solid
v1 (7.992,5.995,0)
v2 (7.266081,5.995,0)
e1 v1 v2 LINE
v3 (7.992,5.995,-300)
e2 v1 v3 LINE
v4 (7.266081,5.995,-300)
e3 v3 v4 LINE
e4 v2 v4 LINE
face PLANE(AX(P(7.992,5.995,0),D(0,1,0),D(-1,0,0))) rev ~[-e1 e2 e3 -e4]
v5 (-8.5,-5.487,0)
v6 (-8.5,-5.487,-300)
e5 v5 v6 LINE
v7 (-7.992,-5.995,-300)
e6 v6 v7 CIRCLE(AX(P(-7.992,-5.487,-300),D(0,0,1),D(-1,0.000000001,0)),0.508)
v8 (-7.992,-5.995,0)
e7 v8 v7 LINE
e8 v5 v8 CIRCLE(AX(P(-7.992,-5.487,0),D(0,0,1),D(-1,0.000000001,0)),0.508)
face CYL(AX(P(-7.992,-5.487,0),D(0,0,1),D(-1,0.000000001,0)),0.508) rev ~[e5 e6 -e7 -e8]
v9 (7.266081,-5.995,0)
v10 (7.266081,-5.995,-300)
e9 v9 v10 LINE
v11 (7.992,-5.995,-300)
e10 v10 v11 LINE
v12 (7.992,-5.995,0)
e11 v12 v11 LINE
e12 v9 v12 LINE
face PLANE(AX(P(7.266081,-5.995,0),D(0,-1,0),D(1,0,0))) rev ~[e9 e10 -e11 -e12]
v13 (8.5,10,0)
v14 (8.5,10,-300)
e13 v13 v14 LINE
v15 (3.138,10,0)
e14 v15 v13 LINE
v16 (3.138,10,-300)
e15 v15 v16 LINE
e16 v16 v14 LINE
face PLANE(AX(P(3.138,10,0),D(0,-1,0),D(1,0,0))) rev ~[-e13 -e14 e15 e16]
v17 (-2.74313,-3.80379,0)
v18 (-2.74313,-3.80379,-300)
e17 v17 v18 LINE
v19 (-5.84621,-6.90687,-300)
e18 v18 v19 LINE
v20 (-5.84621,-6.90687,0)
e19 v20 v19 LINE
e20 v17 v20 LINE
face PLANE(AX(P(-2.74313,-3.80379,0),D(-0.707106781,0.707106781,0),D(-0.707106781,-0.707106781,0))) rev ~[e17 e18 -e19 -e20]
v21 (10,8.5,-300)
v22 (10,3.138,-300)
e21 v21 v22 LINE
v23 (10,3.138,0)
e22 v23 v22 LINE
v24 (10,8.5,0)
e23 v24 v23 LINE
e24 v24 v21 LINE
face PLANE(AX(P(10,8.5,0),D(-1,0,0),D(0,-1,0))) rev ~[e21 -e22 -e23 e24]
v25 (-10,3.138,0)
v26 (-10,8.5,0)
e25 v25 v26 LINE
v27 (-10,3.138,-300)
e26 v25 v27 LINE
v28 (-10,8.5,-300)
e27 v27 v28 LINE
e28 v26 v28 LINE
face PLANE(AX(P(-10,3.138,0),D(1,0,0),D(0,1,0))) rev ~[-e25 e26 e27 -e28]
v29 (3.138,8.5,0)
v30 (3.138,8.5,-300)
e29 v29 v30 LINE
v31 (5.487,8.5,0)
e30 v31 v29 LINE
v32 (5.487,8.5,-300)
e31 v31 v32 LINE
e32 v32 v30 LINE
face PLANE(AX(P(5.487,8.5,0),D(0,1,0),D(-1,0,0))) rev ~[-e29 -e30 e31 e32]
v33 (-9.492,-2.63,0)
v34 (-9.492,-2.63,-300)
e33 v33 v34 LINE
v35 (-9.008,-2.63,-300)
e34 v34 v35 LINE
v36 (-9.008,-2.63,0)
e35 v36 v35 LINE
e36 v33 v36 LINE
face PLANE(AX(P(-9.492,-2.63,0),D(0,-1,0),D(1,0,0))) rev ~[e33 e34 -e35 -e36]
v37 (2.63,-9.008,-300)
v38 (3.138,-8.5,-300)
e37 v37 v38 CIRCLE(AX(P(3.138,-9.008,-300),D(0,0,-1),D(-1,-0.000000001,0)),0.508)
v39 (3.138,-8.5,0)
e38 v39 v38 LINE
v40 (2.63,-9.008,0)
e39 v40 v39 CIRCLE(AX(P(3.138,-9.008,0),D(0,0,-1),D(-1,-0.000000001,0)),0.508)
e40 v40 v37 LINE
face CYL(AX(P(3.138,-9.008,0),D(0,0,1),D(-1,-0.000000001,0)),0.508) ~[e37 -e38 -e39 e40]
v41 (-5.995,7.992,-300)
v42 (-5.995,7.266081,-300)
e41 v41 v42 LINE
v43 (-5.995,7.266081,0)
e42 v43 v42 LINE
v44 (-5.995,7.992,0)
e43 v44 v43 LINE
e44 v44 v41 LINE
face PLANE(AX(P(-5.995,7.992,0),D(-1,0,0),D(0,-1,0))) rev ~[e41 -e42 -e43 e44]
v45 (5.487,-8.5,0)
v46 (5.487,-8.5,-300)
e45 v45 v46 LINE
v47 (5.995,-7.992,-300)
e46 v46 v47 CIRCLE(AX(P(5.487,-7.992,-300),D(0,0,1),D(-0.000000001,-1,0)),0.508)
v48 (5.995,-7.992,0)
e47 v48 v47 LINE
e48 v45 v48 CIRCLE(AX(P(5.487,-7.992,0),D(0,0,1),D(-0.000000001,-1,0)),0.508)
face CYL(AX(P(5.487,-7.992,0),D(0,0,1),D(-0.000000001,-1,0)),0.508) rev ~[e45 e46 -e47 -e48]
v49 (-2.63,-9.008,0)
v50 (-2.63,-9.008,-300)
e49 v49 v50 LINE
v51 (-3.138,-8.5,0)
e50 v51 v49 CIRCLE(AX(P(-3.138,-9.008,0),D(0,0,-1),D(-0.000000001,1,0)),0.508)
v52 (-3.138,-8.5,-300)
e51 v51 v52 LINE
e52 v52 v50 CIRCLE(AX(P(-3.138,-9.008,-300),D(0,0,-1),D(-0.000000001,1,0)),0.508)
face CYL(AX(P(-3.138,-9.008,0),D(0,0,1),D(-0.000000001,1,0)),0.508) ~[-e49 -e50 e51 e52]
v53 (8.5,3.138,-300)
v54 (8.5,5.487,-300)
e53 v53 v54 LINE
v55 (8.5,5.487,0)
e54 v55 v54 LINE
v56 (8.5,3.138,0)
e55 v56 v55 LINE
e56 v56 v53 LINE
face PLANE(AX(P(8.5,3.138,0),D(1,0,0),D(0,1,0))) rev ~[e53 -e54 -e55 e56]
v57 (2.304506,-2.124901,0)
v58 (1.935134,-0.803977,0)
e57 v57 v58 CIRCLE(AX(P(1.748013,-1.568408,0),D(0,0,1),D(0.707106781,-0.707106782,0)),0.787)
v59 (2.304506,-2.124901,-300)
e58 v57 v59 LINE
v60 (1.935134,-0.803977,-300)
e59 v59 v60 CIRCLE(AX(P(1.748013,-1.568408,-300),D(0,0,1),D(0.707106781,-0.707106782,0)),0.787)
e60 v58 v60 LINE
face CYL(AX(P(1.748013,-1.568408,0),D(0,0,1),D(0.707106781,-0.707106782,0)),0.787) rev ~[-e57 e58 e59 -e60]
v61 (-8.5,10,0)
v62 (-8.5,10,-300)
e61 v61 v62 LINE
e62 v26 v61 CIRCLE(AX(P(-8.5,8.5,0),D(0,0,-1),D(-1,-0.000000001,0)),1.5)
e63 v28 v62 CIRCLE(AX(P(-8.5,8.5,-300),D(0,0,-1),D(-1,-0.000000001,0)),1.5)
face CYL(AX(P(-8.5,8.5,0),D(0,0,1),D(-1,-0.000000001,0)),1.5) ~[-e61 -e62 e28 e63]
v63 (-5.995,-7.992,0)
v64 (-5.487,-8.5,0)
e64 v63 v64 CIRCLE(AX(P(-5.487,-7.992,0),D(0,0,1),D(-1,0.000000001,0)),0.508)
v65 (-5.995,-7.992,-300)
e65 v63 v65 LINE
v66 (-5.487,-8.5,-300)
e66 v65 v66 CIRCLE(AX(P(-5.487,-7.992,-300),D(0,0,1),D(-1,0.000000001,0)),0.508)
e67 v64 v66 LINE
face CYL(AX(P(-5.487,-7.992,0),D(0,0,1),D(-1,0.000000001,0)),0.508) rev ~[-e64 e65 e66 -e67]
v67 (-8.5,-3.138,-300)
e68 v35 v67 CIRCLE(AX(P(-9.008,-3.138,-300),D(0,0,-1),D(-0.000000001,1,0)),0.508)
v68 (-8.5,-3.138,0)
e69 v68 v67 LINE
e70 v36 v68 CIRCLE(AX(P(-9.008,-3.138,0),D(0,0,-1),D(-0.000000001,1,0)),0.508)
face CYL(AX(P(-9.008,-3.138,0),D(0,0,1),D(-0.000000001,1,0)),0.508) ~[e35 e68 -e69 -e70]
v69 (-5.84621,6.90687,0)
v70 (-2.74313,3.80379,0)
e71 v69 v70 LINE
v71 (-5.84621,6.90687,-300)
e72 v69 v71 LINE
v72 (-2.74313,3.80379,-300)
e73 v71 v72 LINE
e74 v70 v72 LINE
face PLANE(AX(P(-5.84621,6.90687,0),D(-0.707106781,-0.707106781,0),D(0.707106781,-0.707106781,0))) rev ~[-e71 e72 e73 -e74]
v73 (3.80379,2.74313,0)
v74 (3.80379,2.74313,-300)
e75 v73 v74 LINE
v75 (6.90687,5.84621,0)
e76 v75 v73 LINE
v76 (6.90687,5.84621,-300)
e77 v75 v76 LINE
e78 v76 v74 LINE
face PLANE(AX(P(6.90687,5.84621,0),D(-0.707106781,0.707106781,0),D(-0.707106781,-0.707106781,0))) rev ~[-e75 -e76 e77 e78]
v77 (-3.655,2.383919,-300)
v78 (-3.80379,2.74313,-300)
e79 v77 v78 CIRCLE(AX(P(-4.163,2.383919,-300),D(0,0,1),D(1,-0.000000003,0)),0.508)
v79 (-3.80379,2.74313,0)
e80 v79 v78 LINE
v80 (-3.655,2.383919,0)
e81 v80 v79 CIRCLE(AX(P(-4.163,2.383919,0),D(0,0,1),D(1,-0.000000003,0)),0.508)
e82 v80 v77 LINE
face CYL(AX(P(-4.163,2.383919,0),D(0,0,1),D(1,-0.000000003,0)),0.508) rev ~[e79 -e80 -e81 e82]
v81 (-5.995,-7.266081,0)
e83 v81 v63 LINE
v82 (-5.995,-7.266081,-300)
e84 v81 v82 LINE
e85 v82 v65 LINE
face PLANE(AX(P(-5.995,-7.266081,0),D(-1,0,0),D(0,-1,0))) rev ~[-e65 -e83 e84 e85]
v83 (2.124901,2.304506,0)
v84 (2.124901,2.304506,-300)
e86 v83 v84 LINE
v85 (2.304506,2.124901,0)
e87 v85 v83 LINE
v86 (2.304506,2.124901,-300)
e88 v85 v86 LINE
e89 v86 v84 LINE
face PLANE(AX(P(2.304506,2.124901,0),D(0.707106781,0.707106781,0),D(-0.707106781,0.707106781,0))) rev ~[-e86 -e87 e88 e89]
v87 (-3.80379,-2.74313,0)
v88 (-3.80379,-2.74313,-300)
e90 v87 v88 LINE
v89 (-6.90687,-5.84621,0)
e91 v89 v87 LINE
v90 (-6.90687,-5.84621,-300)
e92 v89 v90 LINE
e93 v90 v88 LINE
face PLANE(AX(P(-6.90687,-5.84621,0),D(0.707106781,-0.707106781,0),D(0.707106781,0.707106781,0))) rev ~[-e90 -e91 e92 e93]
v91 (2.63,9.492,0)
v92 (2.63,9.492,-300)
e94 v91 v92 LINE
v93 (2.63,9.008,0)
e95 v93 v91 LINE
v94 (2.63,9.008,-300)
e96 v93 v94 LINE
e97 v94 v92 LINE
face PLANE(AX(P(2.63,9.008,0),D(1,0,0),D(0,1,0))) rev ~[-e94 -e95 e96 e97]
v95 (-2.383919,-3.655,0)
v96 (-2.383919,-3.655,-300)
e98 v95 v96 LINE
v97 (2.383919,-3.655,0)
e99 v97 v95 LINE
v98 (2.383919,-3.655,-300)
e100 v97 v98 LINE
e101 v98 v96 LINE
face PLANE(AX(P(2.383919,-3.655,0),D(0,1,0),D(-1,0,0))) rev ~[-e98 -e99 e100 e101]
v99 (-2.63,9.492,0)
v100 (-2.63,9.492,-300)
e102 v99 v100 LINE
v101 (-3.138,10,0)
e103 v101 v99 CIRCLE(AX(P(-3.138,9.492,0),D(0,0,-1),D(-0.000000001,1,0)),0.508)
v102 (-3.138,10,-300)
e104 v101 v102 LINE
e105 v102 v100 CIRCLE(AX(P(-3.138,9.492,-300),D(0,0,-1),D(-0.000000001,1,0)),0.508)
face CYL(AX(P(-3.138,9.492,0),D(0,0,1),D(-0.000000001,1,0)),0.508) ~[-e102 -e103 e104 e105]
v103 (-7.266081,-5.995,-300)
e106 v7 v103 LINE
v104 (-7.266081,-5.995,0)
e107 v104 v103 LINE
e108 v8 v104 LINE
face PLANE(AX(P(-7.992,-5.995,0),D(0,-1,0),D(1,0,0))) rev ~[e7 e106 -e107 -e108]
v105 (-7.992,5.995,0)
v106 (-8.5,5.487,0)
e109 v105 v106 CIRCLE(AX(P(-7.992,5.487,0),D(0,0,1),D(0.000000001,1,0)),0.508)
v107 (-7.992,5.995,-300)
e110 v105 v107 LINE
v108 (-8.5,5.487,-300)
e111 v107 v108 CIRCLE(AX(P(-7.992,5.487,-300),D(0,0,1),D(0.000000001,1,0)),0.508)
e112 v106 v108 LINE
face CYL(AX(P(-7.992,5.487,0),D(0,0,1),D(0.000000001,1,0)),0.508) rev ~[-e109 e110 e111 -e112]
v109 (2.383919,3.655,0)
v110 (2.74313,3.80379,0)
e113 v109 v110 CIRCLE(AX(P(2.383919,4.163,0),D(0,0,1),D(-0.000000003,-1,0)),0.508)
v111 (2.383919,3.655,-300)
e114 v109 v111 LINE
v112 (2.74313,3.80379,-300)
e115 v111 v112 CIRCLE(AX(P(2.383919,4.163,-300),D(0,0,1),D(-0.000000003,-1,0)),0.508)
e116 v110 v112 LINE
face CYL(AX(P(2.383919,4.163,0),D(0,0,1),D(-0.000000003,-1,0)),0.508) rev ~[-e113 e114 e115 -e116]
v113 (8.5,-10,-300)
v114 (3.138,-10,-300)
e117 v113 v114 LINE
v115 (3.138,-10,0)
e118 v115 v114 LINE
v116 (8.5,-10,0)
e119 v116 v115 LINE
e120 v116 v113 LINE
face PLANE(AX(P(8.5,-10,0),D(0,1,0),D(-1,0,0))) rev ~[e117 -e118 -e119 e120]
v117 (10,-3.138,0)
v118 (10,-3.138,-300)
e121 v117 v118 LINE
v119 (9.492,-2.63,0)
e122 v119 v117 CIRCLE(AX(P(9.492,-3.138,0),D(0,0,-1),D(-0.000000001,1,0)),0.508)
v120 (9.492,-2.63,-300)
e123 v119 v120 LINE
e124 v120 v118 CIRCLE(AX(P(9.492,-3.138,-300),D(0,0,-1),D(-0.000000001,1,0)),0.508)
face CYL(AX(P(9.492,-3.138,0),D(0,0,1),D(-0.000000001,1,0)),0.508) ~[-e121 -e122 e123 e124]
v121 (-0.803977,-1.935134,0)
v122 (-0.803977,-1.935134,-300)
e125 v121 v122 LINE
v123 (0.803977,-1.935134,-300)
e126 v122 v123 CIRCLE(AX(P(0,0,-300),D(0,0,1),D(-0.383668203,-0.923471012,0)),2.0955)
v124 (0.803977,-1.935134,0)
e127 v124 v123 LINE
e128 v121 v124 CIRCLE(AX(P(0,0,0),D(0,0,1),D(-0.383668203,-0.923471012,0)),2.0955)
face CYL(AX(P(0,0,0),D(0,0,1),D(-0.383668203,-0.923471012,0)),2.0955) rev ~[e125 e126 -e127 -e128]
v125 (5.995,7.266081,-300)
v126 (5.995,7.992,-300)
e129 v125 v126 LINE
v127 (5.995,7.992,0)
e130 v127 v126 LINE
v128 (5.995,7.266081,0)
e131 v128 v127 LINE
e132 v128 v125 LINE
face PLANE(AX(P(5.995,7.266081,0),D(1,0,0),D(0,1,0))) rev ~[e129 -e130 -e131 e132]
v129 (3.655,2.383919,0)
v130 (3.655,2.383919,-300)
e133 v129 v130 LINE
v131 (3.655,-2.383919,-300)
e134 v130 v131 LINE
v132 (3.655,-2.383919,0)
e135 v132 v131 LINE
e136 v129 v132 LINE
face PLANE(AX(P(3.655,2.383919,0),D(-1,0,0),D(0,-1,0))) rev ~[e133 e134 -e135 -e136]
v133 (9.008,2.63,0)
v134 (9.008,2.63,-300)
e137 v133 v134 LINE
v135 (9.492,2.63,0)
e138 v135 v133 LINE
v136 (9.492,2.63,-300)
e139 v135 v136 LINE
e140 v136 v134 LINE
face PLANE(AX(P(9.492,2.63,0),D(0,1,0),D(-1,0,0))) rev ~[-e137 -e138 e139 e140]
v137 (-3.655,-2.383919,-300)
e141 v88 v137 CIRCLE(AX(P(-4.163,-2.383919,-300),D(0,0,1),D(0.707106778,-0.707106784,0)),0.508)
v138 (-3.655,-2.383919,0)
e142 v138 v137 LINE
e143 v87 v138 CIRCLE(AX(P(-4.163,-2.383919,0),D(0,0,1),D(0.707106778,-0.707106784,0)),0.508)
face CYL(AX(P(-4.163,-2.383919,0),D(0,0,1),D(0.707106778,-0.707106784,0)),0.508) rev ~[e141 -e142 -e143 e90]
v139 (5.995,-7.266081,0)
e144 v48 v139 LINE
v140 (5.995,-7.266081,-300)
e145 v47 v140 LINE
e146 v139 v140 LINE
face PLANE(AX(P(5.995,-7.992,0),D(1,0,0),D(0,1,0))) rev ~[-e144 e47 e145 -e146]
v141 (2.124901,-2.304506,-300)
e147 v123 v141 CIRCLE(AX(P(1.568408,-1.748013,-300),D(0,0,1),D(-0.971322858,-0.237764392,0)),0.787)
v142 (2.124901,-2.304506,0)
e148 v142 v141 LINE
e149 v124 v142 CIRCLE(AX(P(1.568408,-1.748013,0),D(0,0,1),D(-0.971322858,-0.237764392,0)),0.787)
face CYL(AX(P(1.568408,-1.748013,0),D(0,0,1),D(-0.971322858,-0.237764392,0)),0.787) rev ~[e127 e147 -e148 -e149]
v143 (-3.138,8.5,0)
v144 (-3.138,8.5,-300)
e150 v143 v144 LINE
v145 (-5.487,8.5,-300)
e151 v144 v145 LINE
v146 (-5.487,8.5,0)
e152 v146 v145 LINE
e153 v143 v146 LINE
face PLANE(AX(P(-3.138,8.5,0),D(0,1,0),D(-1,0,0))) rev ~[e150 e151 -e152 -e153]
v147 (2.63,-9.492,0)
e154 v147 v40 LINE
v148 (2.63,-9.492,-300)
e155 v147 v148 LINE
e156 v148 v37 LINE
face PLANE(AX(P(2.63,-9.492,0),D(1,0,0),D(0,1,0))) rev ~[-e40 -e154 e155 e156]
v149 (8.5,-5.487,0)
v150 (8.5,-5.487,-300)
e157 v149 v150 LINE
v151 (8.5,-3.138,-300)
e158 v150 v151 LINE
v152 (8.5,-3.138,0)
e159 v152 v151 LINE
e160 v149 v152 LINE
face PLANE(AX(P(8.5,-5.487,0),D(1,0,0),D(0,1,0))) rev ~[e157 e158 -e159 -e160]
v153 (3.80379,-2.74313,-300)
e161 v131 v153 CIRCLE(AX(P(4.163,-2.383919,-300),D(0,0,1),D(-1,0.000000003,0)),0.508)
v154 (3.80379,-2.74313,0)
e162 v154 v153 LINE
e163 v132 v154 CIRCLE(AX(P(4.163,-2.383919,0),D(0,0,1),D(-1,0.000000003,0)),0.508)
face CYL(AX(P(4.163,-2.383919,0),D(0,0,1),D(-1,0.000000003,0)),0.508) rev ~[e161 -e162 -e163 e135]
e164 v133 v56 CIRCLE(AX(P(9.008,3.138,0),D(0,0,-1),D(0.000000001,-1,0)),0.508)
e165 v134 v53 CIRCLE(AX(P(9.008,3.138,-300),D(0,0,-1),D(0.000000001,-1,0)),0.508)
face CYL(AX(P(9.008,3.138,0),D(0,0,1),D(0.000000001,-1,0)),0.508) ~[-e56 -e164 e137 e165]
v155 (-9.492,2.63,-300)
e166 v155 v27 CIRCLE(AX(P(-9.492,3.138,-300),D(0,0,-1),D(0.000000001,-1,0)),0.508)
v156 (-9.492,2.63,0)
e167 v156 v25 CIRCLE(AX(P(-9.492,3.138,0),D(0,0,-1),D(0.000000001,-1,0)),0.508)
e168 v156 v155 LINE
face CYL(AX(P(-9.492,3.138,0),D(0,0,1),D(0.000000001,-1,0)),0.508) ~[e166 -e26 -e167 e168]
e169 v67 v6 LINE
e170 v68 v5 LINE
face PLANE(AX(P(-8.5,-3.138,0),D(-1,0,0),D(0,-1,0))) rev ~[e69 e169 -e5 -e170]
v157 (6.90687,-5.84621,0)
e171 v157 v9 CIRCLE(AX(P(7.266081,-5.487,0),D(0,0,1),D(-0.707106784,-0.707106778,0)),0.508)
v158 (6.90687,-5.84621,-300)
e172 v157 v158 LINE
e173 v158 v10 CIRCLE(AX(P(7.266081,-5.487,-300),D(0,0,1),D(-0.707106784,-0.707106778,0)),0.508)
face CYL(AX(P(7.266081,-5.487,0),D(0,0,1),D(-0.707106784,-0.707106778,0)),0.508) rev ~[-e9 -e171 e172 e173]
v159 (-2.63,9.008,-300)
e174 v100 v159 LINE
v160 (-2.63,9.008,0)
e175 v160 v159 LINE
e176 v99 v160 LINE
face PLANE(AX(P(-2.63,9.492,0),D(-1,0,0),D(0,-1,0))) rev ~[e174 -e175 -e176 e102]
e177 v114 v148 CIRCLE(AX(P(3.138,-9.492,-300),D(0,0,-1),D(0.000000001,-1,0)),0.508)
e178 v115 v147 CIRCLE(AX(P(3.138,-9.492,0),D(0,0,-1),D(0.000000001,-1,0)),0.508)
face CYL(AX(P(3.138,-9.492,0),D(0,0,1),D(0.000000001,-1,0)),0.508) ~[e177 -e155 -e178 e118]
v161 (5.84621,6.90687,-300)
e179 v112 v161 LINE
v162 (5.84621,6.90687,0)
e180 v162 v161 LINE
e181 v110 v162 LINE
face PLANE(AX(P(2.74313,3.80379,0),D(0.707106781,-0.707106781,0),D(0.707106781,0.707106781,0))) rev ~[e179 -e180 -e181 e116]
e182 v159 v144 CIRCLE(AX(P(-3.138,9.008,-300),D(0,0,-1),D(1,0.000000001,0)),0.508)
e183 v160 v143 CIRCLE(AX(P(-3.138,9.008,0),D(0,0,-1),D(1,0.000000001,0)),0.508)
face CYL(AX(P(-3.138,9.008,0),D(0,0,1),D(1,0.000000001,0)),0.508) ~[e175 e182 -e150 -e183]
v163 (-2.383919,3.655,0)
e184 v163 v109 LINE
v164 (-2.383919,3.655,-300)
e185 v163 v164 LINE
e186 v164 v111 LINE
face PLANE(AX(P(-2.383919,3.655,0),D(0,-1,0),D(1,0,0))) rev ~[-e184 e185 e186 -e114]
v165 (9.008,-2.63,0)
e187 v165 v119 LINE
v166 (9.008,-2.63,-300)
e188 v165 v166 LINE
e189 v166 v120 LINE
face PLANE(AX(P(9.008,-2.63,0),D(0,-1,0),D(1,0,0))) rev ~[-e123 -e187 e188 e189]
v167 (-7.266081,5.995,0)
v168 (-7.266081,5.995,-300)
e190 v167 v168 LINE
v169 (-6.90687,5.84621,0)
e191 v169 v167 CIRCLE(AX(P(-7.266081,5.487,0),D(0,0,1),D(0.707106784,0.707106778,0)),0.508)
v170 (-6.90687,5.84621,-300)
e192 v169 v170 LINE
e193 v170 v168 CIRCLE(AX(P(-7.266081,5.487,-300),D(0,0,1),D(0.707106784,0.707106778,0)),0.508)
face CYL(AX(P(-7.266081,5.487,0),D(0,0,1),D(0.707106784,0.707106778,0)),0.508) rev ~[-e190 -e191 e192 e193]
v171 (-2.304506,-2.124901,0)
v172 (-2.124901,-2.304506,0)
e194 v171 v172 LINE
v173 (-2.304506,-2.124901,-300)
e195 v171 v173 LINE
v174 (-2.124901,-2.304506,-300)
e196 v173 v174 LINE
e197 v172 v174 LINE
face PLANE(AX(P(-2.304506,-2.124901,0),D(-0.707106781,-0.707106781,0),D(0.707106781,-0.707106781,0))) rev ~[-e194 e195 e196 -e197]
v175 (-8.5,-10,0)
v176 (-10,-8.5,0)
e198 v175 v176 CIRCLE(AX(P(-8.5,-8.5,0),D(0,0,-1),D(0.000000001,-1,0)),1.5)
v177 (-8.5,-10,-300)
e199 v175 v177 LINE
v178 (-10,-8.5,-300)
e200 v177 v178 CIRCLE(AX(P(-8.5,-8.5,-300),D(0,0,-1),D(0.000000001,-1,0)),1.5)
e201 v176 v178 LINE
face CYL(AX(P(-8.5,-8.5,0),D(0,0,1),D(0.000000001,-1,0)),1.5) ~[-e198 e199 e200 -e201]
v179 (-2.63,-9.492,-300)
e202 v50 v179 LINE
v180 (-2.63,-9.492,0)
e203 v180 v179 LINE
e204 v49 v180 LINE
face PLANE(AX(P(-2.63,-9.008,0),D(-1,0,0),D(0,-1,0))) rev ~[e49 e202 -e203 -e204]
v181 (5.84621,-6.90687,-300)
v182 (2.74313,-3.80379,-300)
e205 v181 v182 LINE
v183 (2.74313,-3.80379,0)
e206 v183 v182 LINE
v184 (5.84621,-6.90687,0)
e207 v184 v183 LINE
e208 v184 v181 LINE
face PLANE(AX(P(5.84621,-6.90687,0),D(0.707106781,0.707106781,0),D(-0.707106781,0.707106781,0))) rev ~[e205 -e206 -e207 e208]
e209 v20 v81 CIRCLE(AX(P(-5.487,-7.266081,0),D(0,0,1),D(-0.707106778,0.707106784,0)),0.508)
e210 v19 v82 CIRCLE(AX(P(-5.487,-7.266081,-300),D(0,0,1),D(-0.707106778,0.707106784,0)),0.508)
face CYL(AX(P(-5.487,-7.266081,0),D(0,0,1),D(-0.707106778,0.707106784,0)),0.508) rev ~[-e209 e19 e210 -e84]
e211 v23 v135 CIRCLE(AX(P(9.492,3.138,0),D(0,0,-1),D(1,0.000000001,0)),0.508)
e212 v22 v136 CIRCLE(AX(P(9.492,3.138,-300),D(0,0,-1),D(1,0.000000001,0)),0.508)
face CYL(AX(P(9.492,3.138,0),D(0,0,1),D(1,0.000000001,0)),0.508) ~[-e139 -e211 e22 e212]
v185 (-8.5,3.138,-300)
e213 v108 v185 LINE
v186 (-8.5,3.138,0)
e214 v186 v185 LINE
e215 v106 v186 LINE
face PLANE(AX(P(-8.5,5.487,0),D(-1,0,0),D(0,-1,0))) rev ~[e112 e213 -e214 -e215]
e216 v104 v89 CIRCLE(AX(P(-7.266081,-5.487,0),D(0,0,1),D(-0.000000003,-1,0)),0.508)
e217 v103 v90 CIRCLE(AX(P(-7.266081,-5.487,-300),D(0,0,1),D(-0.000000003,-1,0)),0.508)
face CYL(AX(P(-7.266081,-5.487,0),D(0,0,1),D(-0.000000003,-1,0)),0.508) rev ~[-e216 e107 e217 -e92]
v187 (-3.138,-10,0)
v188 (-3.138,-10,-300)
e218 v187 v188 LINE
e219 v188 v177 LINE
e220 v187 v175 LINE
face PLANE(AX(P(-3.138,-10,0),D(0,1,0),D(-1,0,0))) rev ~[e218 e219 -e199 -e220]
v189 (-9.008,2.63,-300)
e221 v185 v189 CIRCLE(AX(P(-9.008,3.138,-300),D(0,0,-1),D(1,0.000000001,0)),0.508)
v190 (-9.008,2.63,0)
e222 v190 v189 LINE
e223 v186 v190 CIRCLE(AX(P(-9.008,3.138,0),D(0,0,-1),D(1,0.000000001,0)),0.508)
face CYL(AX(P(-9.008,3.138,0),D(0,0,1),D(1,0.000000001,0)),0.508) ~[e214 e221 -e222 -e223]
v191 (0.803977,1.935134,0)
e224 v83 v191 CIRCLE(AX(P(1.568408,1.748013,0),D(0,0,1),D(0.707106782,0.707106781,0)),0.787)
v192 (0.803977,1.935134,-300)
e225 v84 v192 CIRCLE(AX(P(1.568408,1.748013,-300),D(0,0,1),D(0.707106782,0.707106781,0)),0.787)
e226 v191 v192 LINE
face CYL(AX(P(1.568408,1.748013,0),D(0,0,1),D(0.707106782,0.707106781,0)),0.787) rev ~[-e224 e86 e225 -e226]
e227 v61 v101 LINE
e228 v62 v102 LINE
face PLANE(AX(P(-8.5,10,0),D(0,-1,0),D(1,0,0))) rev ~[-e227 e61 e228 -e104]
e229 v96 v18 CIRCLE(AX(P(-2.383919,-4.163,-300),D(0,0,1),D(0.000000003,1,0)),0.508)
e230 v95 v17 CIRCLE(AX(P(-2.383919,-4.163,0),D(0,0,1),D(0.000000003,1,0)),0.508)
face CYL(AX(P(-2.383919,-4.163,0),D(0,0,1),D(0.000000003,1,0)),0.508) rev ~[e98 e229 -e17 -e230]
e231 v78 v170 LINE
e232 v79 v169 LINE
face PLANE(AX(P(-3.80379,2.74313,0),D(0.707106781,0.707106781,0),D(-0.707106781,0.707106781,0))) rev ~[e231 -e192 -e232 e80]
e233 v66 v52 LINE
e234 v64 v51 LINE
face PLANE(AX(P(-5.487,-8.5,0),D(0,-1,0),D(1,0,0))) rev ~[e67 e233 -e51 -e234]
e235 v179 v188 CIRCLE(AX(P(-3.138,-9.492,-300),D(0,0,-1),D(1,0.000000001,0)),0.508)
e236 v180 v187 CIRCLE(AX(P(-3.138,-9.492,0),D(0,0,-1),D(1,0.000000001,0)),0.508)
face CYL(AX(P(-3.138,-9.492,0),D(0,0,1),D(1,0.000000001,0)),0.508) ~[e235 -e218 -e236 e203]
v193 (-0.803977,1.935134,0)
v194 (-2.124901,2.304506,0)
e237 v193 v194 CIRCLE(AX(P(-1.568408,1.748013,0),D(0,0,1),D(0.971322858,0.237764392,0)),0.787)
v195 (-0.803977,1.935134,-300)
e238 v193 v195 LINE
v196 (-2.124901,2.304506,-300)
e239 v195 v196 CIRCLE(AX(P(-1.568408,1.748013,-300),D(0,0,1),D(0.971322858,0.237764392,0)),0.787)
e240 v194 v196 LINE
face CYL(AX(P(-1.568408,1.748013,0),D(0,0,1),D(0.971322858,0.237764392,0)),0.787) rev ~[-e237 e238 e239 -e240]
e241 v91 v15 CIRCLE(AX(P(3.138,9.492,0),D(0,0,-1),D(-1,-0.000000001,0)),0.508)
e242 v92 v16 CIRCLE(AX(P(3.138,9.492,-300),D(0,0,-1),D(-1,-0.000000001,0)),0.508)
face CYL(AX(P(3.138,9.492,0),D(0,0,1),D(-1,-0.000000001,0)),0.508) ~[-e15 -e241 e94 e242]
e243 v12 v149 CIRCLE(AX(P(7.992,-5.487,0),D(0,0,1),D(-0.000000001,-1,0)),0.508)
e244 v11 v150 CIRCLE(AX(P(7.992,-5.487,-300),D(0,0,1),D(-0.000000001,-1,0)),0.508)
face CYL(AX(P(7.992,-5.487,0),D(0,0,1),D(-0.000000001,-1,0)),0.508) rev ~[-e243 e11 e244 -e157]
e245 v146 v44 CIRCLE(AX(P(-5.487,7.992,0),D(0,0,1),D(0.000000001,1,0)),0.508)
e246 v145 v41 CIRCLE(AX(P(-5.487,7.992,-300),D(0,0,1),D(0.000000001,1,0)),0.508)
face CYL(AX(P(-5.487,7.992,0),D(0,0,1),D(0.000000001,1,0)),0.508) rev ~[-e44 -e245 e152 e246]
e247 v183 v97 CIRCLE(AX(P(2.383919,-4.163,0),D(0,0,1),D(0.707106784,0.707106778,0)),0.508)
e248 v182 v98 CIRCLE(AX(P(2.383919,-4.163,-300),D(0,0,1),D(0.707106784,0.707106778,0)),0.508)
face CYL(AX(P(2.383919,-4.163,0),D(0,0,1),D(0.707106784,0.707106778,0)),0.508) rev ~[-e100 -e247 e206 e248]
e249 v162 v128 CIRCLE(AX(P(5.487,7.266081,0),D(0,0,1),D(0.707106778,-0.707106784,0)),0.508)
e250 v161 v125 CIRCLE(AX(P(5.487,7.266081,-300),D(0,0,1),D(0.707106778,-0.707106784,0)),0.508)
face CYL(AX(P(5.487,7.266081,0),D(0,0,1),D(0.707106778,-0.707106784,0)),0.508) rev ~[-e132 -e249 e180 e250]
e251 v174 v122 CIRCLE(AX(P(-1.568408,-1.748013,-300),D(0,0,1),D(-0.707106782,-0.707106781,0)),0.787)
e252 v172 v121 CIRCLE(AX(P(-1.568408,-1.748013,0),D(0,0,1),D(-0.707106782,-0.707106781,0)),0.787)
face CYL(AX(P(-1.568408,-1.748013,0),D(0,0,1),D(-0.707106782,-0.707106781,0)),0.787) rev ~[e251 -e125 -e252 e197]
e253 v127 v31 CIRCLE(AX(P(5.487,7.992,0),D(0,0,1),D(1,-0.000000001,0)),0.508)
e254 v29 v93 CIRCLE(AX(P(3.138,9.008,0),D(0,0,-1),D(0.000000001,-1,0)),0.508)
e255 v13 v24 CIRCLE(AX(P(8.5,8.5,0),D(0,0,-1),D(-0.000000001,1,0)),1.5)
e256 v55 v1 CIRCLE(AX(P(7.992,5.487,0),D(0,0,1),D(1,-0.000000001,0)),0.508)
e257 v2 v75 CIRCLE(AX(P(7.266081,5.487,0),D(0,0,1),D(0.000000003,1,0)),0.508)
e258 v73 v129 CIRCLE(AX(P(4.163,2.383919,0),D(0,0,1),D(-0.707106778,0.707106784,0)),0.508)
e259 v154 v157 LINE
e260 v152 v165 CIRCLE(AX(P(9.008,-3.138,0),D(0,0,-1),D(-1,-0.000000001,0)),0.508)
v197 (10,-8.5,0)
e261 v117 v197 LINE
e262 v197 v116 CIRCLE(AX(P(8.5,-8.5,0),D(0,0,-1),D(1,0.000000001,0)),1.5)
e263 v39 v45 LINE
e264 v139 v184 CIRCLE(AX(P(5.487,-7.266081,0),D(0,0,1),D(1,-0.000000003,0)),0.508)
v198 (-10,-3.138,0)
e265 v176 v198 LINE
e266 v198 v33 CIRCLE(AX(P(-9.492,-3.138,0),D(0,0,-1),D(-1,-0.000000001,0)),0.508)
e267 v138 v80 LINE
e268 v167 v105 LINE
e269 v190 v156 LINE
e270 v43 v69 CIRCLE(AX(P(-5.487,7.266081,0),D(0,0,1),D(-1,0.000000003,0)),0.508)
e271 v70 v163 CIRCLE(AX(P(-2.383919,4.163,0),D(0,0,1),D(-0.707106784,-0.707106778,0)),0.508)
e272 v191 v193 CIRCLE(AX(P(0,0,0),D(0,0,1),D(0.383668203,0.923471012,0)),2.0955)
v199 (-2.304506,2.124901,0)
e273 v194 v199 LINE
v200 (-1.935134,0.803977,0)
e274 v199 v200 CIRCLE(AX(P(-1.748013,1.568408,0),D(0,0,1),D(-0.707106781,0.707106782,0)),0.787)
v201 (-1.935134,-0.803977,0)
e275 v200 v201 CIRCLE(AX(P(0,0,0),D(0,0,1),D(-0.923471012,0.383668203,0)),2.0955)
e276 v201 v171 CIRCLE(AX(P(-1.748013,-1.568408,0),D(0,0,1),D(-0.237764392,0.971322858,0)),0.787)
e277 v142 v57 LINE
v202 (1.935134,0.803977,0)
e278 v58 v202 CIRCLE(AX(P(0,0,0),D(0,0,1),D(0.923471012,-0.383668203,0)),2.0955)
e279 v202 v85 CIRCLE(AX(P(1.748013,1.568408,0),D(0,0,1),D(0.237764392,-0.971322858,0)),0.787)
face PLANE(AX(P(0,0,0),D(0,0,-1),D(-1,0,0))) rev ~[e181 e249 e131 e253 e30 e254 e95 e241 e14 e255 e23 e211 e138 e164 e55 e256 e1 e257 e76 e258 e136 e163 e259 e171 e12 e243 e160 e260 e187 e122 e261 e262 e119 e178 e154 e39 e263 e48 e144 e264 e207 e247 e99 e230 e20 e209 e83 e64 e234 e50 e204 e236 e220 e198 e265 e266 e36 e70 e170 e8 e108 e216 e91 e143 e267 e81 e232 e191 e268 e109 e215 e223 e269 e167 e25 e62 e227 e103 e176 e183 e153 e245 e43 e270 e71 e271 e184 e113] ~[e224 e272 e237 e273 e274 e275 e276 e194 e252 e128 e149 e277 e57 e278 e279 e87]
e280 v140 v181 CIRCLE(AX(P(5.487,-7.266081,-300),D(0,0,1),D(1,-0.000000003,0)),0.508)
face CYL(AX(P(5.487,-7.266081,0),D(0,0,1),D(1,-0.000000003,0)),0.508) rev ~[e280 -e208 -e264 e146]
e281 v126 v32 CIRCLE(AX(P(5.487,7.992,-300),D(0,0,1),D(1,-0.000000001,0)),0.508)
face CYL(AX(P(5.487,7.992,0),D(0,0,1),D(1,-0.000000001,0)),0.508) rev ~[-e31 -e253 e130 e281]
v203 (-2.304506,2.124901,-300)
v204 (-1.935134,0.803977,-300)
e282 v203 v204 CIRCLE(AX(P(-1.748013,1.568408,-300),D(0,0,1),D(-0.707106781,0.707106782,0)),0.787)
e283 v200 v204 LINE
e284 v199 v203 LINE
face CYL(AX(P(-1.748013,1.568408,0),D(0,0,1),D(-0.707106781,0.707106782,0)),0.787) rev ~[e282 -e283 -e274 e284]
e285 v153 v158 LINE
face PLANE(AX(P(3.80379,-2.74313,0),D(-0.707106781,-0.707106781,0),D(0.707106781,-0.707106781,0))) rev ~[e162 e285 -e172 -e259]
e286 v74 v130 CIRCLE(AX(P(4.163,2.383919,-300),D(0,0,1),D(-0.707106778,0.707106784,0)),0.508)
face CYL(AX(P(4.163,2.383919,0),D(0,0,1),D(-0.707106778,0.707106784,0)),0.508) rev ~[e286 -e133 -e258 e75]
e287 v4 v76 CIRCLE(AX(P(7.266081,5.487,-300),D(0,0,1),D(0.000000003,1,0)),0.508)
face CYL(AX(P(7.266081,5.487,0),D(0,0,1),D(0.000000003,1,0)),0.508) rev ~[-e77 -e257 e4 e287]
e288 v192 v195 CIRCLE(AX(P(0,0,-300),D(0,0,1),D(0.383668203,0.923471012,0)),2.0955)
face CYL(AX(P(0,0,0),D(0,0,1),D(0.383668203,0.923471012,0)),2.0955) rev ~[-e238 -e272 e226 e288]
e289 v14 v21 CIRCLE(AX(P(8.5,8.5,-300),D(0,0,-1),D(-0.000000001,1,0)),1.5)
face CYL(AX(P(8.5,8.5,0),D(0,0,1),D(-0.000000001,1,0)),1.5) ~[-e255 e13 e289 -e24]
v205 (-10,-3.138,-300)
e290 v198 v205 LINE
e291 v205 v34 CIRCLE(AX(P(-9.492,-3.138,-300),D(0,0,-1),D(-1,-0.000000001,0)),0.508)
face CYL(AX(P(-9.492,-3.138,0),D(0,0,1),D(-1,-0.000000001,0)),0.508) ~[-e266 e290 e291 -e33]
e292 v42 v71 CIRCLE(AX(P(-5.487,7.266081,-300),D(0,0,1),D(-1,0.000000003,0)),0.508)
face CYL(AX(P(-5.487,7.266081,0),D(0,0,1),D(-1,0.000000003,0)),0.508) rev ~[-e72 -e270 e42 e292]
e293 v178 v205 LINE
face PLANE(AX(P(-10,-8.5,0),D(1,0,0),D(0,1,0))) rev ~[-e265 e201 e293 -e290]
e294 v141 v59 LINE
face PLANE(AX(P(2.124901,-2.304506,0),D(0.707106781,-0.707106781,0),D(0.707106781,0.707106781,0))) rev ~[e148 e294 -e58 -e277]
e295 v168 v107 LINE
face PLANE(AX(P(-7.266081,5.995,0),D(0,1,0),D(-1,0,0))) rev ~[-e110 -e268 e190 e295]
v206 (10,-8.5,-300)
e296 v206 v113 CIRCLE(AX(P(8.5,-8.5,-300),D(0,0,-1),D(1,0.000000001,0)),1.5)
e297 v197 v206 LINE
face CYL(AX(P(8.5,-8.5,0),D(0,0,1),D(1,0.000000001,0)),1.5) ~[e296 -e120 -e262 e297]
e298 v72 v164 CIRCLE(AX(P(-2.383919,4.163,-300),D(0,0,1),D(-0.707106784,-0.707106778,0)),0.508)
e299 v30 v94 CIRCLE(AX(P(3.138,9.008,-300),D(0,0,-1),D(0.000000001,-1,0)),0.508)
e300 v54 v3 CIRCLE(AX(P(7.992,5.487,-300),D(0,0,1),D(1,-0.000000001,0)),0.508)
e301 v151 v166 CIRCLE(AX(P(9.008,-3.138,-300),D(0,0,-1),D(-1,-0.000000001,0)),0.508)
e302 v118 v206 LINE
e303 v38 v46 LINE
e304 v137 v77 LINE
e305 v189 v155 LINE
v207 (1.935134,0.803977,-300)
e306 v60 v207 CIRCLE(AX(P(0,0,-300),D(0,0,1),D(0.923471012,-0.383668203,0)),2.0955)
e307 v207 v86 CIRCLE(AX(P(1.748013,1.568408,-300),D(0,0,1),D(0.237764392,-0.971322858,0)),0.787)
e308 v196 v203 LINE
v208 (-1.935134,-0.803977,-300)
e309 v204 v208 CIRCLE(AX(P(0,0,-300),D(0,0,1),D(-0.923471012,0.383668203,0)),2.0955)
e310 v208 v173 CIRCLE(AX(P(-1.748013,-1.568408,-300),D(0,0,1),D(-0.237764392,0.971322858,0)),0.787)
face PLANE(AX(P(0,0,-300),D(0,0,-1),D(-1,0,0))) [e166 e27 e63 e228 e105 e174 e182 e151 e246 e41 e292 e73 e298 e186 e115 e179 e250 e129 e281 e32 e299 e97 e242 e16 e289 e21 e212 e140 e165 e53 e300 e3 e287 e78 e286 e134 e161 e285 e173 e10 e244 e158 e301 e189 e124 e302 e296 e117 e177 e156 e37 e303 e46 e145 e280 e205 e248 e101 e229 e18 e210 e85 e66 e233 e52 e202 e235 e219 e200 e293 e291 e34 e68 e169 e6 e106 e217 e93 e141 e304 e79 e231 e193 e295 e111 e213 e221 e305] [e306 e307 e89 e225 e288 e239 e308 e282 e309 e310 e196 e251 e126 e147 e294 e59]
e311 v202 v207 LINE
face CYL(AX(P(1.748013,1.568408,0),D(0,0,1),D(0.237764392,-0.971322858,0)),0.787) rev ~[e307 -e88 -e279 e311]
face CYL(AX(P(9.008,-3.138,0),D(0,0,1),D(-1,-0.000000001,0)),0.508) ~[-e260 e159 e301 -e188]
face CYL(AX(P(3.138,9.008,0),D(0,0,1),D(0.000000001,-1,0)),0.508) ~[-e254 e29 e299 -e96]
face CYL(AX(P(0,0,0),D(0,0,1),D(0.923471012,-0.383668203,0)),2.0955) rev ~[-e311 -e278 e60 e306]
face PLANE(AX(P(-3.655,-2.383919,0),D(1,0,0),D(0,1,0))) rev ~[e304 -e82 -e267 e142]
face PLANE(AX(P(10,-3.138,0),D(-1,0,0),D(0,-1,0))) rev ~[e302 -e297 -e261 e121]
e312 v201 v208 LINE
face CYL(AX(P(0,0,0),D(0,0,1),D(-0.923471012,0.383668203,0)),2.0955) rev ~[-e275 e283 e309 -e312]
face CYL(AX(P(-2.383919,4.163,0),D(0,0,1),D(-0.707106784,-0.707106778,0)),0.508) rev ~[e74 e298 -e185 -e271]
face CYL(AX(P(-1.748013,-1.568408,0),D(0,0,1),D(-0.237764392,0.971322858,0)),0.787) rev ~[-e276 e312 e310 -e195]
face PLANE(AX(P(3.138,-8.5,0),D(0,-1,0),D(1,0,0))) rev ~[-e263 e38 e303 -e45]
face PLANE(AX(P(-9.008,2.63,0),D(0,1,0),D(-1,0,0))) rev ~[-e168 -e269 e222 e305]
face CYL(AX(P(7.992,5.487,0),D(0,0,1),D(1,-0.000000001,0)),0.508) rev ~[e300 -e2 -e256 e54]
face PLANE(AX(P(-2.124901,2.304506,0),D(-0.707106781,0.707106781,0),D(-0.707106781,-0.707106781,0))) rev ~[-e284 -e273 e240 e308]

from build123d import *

# Parameters (mm, degrees)
EXTRUDE1_DEPTH = 300


with BuildPart() as part:
    # Sketch1 → Extrude1 (new body)
    with BuildSketch(Plane.XY):
        with BuildLine():
            Line((9.492, 2.63), (9.008, 2.63))
            ThreePointArc((9.008, 2.63), (8.648789755, 2.778789755), (8.5, 3.138))
            Line((8.5, 3.138), (8.5, 5.487))
            ThreePointArc((8.5, 5.487), (8.351210245, 5.846210245), (7.992, 5.995))
            Line((7.992, 5.995), (7.266080661, 5.995))
            ThreePointArc((7.266080661, 5.995), (7.071677478, 5.956330803), (6.906870417, 5.846210245))
            Line((6.906870417, 5.846210245), (3.803789755, 2.743129583))
            ThreePointArc((3.803789755, 2.743129583), (3.693669197, 2.578322522), (3.655, 2.383919339))
            Line((3.655, 2.383919339), (3.655, -2.383919339))
            ThreePointArc((3.655, -2.383919339), (3.693669197, -2.578322522), (3.803789755, -2.743129583))
            Line((3.803789755, -2.743129583), (6.906870417, -5.846210245))
            ThreePointArc((6.906870417, -5.846210245), (7.071677478, -5.956330803), (7.266080661, -5.995))
            Line((7.266080661, -5.995), (7.992, -5.995))
            ThreePointArc((7.992, -5.995), (8.351210245, -5.846210245), (8.5, -5.487))
            Line((8.5, -5.487), (8.5, -3.138))
            ThreePointArc((8.5, -3.138), (8.648789755, -2.778789755), (9.008, -2.63))
            Line((9.008, -2.63), (9.492, -2.63))
            ThreePointArc((9.492, -2.63), (9.851210245, -2.778789755), (10, -3.138))
            Line((10, -3.138), (10, -8.5))
            ThreePointArc((10, -8.5), (9.560660172, -9.560660172), (8.5, -10))
            Line((8.5, -10), (3.138, -10))
            ThreePointArc((3.138, -10), (2.778789755, -9.851210245), (2.63, -9.492))
            Line((2.63, -9.492), (2.63, -9.008))
            ThreePointArc((2.63, -9.008), (2.778789755, -8.648789755), (3.138, -8.5))
            Line((3.138, -8.5), (5.487, -8.5))
            ThreePointArc((5.487, -8.5), (5.846210245, -8.351210245), (5.995, -7.992))
            Line((5.995, -7.992), (5.995, -7.266080661))
            ThreePointArc((5.995, -7.266080661), (5.956330803, -7.071677478), (5.846210245, -6.906870417))
            Line((5.846210245, -6.906870417), (2.743129583, -3.803789755))
            ThreePointArc((2.743129583, -3.803789755), (2.578322522, -3.693669197), (2.383919339, -3.655))
            Line((2.383919339, -3.655), (-2.383919339, -3.655))
            ThreePointArc((-2.383919339, -3.655), (-2.578322522, -3.693669197), (-2.743129583, -3.803789755))
            Line((-2.743129583, -3.803789755), (-5.846210245, -6.906870417))
            ThreePointArc((-5.846210245, -6.906870417), (-5.956330803, -7.071677478), (-5.995, -7.266080661))
            Line((-5.995, -7.266080661), (-5.995, -7.992))
            ThreePointArc((-5.995, -7.992), (-5.846210245, -8.351210245), (-5.487, -8.5))
            Line((-5.487, -8.5), (-3.138, -8.5))
            ThreePointArc((-3.138, -8.5), (-2.778789755, -8.648789755), (-2.63, -9.008))
            Line((-2.63, -9.008), (-2.63, -9.492))
            ThreePointArc((-2.63, -9.492), (-2.778789755, -9.851210245), (-3.138, -10))
            Line((-3.138, -10), (-8.5, -10))
            ThreePointArc((-8.5, -10), (-9.560660172, -9.560660172), (-10, -8.5))
            Line((-10, -8.5), (-10, -3.138))
            ThreePointArc((-10, -3.138), (-9.851210245, -2.778789755), (-9.492, -2.63))
            Line((-9.492, -2.63), (-9.008, -2.63))
            ThreePointArc((-9.008, -2.63), (-8.648789755, -2.778789755), (-8.5, -3.138))
            Line((-8.5, -3.138), (-8.5, -5.487))
            ThreePointArc((-8.5, -5.487), (-8.351210245, -5.846210245), (-7.992, -5.995))
            Line((-7.992, -5.995), (-7.266080661, -5.995))
            ThreePointArc((-7.266080661, -5.995), (-7.071677478, -5.956330803), (-6.906870417, -5.846210245))
            Line((-6.906870417, -5.846210245), (-3.803789755, -2.743129583))
            ThreePointArc((-3.803789755, -2.743129583), (-3.693669197, -2.578322522), (-3.655, -2.383919339))
            Line((-3.655, -2.383919339), (-3.655, 2.383919339))
            ThreePointArc((-3.655, 2.383919339), (-3.693669197, 2.578322522), (-3.803789755, 2.743129583))
            Line((-3.803789755, 2.743129583), (-6.906870417, 5.846210245))
            ThreePointArc((-6.906870417, 5.846210245), (-7.071677478, 5.956330803), (-7.266080661, 5.995))
            Line((-7.266080661, 5.995), (-7.992, 5.995))
            ThreePointArc((-7.992, 5.995), (-8.351210245, 5.846210245), (-8.5, 5.487))
            Line((-8.5, 5.487), (-8.5, 3.138))
            ThreePointArc((-8.5, 3.138), (-8.648789755, 2.778789755), (-9.008, 2.63))
            Line((-9.008, 2.63), (-9.492, 2.63))
            ThreePointArc((-9.492, 2.63), (-9.851210245, 2.778789755), (-10, 3.138))
            Line((-10, 3.138), (-10, 8.5))
            ThreePointArc((-10, 8.5), (-9.560660172, 9.560660172), (-8.5, 10))
            Line((-8.5, 10), (-3.138, 10))
            ThreePointArc((-3.138, 10), (-2.778789755, 9.851210245), (-2.63, 9.492))
            Line((-2.63, 9.492), (-2.63, 9.008))
            ThreePointArc((-2.63, 9.008), (-2.778789755, 8.648789755), (-3.138, 8.5))
            Line((-3.138, 8.5), (-5.487, 8.5))
            ThreePointArc((-5.487, 8.5), (-5.846210245, 8.351210245), (-5.995, 7.992))
            Line((-5.995, 7.992), (-5.995, 7.266080661))
            ThreePointArc((-5.995, 7.266080661), (-5.956330803, 7.071677478), (-5.846210245, 6.906870417))
            Line((-5.846210245, 6.906870417), (-2.743129583, 3.803789755))
            ThreePointArc((-2.743129583, 3.803789755), (-2.578322522, 3.693669197), (-2.383919339, 3.655))
            Line((-2.383919339, 3.655), (2.383919339, 3.655))
            ThreePointArc((2.383919339, 3.655), (2.578322522, 3.693669197), (2.743129583, 3.803789755))
            Line((2.743129583, 3.803789755), (5.846210245, 6.906870417))
            ThreePointArc((5.846210245, 6.906870417), (5.956330803, 7.071677478), (5.995, 7.266080661))
            Line((5.995, 7.266080661), (5.995, 7.992))
            ThreePointArc((5.995, 7.992), (5.846210245, 8.351210245), (5.487, 8.5))
            Line((5.487, 8.5), (3.138, 8.5))
            ThreePointArc((3.138, 8.5), (2.778789755, 8.648789755), (2.63, 9.008))
            Line((2.63, 9.008), (2.63, 9.492))
            ThreePointArc((2.63, 9.492), (2.778789755, 9.851210245), (3.138, 10))
            Line((3.138, 10), (8.5, 10))
            ThreePointArc((8.5, 10), (9.560660172, 9.560660172), (10, 8.5))
            Line((10, 8.5), (10, 3.138))
            ThreePointArc((10, 3.138), (9.851210245, 2.778789755), (9.492, 2.63))
        make_face()
        with BuildLine():
            Line((2.124900844, -2.304505966), (2.304505966, -2.124900844))
            ThreePointArc((2.304505966, -2.124900844), (2.505938017, -1.356467811), (1.935133506, -0.803976718))
            ThreePointArc((1.935133506, -0.803976718), (2.0955, 0), (1.935133506, 0.803976718))
            ThreePointArc((1.935133506, 0.803976718), (2.505938017, 1.356467811), (2.304505966, 2.124900844))
            Line((2.304505966, 2.124900844), (2.124900844, 2.304505966))
            ThreePointArc((2.124900844, 2.304505966), (1.356467811, 2.505938017), (0.803976718, 1.935133506))
            ThreePointArc((0.803976718, 1.935133506), (0, 2.0955), (-0.803976718, 1.935133506))
            ThreePointArc((-0.803976718, 1.935133506), (-1.356467811, 2.505938017), (-2.124900844, 2.304505966))
            Line((-2.124900844, 2.304505966), (-2.304505966, 2.124900844))
            ThreePointArc((-2.304505966, 2.124900844), (-2.505938017, 1.356467811), (-1.935133506, 0.803976718))
            ThreePointArc((-1.935133506, 0.803976718), (-2.0955, 0), (-1.935133506, -0.803976718))
            ThreePointArc((-1.935133506, -0.803976718), (-2.505938017, -1.356467811), (-2.304505966, -2.124900844))
            Line((-2.304505966, -2.124900844), (-2.124900844, -2.304505966))
            ThreePointArc((-2.124900844, -2.304505966), (-1.356467811, -2.505938017), (-0.803976718, -1.935133506))
            ThreePointArc((-0.803976718, -1.935133506), (0, -2.0955), (0.803976718, -1.935133506))
            ThreePointArc((0.803976718, -1.935133506), (1.356467811, -2.505938017), (2.124900844, -2.304505966))
        make_face(mode=Mode.SUBTRACT)
    extrude(amount=-EXTRUDE1_DEPTH)


solid = part.part
